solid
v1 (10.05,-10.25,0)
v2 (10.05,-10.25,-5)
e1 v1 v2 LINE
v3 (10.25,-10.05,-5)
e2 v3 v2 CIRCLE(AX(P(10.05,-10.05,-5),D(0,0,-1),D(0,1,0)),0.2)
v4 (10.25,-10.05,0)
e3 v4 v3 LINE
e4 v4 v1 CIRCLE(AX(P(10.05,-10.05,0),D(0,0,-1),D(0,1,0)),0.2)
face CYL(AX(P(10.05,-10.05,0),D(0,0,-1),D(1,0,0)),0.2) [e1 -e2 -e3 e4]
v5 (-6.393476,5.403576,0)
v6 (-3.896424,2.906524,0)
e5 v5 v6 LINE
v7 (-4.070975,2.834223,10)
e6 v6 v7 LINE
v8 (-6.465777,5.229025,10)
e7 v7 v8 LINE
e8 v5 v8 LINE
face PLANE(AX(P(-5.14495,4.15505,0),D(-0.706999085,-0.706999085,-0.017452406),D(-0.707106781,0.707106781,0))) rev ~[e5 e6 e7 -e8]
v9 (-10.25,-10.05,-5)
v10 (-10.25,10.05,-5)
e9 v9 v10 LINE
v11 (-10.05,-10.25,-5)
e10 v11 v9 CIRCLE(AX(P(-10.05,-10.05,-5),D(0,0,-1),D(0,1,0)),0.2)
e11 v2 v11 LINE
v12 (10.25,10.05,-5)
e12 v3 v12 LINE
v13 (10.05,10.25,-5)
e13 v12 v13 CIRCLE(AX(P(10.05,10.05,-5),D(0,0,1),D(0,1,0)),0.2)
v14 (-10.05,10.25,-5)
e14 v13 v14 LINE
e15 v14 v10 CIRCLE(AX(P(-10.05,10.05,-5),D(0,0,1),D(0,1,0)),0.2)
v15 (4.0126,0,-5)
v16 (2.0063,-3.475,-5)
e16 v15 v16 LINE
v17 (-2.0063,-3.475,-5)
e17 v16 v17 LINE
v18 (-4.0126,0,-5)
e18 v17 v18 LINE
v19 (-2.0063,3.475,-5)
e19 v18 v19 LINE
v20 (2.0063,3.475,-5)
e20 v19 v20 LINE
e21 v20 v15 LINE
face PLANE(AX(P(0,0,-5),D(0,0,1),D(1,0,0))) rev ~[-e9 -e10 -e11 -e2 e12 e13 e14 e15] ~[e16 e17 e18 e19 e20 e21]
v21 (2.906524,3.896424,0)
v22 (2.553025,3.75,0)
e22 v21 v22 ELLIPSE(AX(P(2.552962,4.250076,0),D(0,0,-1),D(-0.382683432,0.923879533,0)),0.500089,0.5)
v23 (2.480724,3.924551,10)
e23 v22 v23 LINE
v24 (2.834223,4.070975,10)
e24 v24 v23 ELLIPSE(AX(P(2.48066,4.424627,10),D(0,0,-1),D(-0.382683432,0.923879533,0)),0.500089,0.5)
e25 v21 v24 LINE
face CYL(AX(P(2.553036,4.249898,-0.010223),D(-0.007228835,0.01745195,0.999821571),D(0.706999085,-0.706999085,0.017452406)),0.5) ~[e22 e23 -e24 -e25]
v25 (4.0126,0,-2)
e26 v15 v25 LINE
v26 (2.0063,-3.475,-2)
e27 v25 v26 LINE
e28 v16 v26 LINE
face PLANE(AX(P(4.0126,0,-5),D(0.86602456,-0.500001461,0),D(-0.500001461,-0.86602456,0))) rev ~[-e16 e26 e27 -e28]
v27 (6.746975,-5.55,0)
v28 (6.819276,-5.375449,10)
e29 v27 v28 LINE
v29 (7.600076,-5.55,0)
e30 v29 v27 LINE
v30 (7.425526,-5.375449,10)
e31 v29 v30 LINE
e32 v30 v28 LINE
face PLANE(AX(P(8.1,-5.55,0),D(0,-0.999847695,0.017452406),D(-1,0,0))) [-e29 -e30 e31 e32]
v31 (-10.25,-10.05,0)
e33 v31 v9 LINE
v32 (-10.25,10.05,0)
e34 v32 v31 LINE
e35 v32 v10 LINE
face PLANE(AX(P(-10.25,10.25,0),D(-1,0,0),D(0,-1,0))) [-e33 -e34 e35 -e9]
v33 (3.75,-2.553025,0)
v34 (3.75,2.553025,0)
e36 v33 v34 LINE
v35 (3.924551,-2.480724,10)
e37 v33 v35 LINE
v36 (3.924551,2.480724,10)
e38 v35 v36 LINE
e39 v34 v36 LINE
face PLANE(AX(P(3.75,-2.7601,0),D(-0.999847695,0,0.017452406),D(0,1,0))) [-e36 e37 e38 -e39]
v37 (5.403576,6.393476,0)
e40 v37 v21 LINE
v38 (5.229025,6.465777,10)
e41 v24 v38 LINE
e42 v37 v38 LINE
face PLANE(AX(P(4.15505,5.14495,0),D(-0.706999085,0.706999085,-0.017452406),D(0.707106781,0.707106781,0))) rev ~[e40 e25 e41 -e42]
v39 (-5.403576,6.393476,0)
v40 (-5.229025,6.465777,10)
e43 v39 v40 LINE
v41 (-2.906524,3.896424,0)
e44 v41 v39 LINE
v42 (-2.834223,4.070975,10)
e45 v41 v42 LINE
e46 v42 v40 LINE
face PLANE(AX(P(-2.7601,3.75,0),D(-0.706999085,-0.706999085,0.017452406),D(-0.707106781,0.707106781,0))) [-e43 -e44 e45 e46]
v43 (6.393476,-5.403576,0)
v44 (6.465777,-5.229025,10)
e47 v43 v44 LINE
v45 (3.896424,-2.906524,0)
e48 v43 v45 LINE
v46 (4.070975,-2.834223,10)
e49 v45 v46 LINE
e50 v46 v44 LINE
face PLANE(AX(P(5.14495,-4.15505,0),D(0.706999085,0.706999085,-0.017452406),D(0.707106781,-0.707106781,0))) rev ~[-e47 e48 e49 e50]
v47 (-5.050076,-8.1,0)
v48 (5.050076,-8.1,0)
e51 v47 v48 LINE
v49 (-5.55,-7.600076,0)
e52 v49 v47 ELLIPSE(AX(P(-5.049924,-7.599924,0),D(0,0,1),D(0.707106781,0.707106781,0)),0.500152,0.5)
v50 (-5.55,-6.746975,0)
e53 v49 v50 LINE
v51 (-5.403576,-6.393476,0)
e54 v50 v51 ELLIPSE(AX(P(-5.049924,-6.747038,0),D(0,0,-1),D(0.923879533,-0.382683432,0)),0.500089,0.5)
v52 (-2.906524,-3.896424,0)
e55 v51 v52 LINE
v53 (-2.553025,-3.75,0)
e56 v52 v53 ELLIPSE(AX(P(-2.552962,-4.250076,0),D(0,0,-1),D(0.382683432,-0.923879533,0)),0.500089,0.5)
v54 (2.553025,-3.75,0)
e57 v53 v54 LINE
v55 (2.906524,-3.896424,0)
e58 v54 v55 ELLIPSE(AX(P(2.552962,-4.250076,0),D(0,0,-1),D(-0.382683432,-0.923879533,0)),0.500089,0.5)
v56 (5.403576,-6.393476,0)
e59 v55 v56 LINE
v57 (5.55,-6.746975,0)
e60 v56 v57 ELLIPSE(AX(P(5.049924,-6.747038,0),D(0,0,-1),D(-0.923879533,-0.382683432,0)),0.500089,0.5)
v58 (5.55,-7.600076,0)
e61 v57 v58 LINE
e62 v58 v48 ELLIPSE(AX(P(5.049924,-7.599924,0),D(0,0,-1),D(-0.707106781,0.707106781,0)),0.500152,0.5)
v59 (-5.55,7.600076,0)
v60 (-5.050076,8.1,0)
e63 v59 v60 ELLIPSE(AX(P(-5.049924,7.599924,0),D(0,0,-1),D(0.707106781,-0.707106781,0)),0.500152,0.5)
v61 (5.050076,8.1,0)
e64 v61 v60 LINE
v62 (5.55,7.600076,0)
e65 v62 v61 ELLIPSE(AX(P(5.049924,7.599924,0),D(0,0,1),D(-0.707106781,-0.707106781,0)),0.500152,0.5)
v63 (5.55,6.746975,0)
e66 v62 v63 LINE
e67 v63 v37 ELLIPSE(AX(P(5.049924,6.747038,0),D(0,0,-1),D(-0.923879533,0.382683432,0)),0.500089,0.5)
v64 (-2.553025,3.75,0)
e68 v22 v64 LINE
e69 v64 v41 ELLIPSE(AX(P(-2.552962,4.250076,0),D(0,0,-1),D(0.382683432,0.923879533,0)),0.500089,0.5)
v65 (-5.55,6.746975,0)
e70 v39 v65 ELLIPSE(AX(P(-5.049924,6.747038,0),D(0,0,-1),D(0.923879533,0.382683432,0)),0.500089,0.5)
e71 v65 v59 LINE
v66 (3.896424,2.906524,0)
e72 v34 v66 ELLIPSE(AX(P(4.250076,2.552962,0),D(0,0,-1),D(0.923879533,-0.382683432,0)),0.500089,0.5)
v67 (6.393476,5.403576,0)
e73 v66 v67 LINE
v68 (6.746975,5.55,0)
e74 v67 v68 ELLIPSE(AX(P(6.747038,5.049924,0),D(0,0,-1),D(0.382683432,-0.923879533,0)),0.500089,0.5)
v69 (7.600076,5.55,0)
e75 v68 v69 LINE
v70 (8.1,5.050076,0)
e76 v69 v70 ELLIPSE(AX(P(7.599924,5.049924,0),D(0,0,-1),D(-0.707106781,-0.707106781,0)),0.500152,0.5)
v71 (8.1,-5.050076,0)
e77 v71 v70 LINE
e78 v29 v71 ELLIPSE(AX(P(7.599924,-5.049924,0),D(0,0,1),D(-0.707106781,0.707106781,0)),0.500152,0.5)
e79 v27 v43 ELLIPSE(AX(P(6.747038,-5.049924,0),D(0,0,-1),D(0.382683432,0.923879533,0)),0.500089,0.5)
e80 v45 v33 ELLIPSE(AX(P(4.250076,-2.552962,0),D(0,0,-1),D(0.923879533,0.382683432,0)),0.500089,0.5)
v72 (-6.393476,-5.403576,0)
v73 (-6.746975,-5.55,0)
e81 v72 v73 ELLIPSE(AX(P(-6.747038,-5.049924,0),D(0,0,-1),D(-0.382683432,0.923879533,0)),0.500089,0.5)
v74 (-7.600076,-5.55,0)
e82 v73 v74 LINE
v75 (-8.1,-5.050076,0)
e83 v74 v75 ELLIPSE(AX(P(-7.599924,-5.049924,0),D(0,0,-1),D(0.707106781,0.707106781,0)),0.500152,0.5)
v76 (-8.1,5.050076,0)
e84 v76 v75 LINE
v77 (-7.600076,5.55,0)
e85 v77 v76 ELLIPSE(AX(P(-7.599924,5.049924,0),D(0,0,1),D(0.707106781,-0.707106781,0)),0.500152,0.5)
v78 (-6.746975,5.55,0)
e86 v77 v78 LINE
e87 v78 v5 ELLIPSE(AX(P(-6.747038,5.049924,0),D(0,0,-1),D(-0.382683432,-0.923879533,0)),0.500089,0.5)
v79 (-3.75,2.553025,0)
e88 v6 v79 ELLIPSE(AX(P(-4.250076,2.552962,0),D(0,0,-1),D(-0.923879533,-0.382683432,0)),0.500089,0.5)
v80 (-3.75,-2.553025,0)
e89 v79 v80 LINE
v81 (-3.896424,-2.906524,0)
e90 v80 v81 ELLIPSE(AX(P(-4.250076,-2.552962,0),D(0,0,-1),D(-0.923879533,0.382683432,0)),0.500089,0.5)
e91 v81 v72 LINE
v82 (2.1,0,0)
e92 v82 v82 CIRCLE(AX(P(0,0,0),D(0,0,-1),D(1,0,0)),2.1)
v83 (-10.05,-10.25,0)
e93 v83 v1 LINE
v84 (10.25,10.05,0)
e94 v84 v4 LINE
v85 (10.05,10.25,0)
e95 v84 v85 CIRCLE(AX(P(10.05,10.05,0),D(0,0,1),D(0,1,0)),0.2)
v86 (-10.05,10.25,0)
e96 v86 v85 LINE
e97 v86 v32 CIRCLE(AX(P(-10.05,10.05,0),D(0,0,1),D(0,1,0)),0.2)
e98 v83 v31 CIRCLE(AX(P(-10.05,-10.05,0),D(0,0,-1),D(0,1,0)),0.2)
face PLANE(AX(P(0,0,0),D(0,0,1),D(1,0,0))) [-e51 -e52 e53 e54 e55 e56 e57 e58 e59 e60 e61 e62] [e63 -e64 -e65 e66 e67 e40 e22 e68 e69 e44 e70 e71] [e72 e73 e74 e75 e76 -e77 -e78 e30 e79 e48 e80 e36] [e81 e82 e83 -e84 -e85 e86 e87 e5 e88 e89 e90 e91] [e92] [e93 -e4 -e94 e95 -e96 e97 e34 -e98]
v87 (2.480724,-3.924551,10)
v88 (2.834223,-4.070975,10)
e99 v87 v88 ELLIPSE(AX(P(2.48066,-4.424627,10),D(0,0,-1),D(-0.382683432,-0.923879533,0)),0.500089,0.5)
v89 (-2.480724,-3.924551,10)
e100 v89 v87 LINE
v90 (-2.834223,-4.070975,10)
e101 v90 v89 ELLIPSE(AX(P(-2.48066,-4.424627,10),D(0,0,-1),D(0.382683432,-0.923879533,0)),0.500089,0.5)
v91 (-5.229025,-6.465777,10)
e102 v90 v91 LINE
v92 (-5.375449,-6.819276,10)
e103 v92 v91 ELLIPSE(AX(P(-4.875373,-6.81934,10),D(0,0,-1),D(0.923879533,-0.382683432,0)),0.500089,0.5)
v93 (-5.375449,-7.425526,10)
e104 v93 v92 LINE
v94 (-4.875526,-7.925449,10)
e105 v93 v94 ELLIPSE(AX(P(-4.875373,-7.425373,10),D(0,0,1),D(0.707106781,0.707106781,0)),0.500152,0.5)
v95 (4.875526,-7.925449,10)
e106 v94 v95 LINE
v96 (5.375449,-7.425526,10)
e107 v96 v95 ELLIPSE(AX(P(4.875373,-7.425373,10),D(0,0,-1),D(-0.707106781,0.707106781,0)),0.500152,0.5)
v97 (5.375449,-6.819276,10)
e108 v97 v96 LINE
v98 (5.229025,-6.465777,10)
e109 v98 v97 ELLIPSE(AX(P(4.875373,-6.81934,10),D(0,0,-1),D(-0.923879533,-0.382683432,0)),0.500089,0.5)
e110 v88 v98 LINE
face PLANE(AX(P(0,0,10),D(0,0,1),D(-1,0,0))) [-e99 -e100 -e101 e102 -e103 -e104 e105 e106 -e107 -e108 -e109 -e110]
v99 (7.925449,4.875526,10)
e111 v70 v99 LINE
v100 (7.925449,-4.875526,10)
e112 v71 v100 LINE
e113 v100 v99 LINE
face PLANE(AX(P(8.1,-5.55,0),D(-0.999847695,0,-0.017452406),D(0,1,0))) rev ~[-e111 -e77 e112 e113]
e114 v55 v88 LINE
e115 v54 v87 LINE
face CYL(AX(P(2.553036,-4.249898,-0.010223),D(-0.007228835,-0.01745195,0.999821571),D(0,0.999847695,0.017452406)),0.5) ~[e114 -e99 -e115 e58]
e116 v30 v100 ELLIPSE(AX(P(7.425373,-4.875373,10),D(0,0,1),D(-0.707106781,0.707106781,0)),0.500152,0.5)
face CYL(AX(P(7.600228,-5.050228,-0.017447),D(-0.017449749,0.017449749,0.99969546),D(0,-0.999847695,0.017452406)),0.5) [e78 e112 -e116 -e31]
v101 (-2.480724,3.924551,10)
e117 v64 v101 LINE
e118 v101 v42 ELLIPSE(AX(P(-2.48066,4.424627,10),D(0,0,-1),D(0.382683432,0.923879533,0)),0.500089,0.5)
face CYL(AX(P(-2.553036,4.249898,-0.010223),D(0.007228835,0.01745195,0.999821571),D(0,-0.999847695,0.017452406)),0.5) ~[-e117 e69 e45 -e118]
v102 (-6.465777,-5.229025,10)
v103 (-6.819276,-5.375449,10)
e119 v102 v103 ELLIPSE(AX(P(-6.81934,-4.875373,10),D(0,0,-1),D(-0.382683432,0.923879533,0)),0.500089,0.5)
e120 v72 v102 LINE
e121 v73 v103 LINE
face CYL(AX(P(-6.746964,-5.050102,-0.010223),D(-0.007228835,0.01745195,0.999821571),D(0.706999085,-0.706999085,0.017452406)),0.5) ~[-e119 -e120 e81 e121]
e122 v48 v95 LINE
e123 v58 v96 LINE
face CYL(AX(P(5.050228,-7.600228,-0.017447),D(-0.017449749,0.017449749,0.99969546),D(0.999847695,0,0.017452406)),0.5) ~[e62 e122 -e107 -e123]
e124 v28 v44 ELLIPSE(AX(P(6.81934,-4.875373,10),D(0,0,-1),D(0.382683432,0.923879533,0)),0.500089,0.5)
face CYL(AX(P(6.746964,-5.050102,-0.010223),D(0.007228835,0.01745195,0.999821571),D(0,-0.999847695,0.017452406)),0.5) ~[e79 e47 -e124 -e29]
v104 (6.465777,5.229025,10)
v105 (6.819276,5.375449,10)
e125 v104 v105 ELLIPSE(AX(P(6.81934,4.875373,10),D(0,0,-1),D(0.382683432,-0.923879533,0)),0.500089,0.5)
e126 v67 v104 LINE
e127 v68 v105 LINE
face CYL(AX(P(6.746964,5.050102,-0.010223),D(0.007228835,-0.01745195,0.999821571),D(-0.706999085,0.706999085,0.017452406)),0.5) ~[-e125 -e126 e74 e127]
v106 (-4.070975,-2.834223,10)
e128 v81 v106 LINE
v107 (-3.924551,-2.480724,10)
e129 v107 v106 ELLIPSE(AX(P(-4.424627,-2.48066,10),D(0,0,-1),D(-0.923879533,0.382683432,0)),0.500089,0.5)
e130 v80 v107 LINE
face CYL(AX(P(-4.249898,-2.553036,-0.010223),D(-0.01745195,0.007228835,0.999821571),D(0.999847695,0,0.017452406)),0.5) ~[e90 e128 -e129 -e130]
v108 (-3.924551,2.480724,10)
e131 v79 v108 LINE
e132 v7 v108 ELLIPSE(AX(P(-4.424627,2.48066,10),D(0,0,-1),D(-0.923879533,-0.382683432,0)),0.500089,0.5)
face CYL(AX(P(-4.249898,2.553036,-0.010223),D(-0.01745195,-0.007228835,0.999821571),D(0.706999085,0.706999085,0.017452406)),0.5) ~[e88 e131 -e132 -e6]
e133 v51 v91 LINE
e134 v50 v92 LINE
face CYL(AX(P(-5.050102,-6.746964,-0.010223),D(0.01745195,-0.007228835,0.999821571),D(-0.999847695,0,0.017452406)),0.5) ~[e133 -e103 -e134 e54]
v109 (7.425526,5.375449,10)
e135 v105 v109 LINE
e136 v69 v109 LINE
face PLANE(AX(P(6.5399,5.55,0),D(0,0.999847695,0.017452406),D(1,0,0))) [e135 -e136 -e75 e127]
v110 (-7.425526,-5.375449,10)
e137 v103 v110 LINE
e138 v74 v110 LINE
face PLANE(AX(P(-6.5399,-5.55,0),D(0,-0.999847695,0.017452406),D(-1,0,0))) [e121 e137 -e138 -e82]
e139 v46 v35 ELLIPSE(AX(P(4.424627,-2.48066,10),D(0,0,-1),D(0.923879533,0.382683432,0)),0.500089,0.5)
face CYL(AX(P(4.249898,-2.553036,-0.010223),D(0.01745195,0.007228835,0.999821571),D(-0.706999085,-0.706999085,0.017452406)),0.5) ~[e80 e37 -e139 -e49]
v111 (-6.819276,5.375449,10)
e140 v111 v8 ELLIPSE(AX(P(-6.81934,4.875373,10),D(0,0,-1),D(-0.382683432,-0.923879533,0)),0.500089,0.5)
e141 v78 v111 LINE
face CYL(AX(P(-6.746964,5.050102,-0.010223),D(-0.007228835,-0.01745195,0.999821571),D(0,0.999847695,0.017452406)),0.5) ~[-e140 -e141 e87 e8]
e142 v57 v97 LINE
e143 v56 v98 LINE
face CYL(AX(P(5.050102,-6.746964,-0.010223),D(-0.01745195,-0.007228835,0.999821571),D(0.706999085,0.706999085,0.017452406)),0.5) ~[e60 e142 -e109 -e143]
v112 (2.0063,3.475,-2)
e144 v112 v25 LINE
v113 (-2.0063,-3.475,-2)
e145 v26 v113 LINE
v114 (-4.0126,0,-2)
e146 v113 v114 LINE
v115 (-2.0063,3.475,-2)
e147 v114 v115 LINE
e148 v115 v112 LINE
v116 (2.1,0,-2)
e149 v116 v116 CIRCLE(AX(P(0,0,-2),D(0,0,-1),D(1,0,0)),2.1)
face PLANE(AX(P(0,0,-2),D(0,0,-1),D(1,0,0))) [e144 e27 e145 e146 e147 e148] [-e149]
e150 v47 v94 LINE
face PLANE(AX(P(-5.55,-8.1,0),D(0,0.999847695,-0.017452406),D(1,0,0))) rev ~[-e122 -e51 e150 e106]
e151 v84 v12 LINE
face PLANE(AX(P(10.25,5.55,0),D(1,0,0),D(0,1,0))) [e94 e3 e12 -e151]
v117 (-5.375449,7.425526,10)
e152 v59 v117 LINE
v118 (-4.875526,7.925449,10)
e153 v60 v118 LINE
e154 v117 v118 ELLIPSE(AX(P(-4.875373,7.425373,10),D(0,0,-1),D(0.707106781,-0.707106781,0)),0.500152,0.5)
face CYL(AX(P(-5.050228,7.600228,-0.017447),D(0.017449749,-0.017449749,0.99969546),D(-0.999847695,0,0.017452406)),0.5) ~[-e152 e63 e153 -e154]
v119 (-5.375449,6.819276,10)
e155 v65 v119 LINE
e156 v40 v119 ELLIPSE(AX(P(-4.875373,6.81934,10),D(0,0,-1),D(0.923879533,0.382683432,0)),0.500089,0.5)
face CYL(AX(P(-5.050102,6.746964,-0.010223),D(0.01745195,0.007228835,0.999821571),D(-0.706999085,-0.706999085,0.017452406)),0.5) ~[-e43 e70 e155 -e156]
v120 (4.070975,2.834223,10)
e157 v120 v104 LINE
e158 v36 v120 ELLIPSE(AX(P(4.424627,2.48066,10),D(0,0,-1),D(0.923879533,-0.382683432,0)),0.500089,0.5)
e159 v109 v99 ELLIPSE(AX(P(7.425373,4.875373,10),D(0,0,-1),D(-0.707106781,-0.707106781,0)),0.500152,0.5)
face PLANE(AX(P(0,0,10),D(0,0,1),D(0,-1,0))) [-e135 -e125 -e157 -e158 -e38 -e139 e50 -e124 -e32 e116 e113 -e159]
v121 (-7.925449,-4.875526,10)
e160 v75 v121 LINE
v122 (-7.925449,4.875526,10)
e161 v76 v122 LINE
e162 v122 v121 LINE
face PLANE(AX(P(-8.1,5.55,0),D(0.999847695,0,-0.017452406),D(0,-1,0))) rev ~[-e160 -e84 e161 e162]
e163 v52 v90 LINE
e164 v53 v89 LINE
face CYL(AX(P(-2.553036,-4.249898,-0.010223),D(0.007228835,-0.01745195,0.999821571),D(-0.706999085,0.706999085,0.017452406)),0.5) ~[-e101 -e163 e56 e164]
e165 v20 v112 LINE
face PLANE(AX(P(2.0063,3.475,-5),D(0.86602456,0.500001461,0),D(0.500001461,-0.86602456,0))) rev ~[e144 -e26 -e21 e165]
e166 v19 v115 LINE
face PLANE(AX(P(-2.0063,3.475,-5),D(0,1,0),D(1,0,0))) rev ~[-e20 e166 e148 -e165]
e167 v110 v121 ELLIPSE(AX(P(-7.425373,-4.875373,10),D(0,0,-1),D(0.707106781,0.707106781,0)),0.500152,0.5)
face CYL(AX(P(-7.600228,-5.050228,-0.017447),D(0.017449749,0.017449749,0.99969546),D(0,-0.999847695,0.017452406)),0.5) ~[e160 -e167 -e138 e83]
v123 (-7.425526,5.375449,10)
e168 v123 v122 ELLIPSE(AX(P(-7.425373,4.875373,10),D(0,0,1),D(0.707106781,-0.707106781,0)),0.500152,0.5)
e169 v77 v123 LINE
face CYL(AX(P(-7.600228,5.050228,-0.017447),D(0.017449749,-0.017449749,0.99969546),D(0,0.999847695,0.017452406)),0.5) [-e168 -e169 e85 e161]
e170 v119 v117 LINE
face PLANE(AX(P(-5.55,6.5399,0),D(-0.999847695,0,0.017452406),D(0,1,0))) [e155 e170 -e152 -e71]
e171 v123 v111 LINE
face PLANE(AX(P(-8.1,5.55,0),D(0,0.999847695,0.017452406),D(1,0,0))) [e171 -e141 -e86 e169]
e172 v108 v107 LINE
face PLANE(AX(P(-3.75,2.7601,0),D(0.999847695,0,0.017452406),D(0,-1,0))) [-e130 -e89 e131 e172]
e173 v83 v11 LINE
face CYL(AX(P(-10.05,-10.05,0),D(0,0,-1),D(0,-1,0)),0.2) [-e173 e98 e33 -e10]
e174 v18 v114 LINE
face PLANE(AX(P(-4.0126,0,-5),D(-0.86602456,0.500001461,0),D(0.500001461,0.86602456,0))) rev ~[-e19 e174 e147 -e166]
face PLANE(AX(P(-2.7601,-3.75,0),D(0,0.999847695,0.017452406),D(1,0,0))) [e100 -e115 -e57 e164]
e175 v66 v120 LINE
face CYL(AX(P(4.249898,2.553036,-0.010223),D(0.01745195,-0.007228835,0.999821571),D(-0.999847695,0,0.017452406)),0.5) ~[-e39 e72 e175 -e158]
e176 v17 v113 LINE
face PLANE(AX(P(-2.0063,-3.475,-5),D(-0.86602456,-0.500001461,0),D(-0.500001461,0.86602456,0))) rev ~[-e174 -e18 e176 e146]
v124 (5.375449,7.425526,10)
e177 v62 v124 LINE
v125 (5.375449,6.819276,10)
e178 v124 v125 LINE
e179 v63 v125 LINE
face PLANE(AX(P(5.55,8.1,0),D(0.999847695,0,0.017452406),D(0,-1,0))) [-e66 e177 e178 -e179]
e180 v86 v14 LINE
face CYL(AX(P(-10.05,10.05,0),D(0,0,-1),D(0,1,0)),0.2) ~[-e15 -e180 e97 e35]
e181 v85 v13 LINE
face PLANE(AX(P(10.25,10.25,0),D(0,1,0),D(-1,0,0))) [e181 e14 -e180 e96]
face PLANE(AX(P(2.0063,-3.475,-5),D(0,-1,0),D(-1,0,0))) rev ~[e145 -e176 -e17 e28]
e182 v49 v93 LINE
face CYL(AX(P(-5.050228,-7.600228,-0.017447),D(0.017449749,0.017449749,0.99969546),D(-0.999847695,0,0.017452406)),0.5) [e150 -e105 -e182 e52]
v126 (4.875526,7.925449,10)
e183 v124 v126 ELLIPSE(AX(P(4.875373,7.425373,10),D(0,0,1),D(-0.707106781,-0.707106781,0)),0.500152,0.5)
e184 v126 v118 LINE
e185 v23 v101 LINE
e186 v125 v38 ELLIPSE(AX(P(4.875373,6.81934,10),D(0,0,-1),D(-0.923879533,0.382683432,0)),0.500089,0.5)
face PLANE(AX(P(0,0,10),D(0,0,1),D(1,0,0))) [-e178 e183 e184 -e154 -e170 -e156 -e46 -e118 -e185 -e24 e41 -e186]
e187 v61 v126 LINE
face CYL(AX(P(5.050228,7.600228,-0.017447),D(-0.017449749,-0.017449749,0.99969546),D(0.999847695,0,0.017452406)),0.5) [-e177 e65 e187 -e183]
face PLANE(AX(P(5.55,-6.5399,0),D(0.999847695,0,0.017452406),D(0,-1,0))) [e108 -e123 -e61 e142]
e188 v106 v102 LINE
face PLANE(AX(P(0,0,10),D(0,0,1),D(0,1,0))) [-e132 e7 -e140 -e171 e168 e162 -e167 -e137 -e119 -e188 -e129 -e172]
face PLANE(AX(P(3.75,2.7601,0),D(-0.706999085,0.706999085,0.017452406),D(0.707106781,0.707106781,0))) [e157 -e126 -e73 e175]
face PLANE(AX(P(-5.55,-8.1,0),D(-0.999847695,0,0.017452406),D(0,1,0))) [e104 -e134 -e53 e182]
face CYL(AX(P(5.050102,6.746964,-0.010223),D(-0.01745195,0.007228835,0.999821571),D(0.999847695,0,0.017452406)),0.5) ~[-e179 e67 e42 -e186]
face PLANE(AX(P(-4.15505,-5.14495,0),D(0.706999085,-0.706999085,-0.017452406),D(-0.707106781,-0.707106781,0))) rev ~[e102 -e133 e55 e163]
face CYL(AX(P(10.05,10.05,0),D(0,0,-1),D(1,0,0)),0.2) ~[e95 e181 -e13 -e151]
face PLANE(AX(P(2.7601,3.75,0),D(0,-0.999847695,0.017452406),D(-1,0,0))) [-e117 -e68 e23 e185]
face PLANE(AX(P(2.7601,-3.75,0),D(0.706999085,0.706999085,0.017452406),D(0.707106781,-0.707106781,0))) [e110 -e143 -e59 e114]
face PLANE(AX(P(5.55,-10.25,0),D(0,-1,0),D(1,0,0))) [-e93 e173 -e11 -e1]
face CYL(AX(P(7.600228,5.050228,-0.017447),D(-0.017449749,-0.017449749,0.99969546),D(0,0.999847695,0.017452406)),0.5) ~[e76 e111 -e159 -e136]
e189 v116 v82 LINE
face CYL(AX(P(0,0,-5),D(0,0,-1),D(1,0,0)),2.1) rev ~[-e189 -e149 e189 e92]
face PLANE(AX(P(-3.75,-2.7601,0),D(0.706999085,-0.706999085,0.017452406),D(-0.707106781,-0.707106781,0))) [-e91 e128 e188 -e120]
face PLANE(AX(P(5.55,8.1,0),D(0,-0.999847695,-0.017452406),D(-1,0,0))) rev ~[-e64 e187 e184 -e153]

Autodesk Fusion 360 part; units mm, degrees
ref_plane "WorkPlane1" through (0, 0, 0) normal (0, 0, 1) x (1, 0, 0)
sketch "Sketch1" plane through (0, 0, 0) normal (0, 0, 1) x (1, 0, 0)
  line L0 (10.25, 10.25) -> (-10.25, 10.25)
  line L1 (-10.25, 10.25) -> (-10.25, -10.25)
  line L2 (-10.25, -10.25) -> (10.25, -10.25)
  line L3 (10.25, -10.25) -> (10.25, 10.25)
  line L4 (10.25, 10.25) -> (-10.25, -10.25) construction
  line L5 (-10.25, 10.25) -> (10.25, -10.25) construction
  line L6 (3.75, 3.75) -> (-3.75, 3.75)
  line L7 (-3.75, 3.75) -> (-3.75, -3.75)
  line L8 (-3.75, -3.75) -> (3.75, -3.75)
  line L9 (3.75, -3.75) -> (3.75, 3.75)
  line L10 (3.75, 3.75) -> (-3.75, -3.75) construction
  line L11 (-3.75, 3.75) -> (3.75, -3.75) construction
  line L12 (8.1, 8.1) -> (-8.1, 8.1)
  line L13 (-8.1, 8.1) -> (-8.1, -8.1)
  line L14 (-8.1, -8.1) -> (8.1, -8.1)
  line L15 (8.1, -8.1) -> (8.1, 8.1)
  line L16 (8.1, 8.1) -> (-8.1, -8.1) construction
  line L17 (-8.1, 8.1) -> (8.1, -8.1) construction
  line L18 (10.25, 10.25) -> (5.55, 10.25)
  line L19 (5.55, 10.25) -> (5.55, 5.55)
  line L20 (5.55, 5.55) -> (10.25, 5.55)
  line L21 (10.25, 5.55) -> (10.25, 10.25)
  line L22 (2.7601, 3.75) -> (5.55, 6.5399)
  line L23 (3.75, 2.7601) -> (6.5399, 5.55)
  line L24 (4.155, 5.145) -> (5.145, 4.155)
  line L25 (-5.55, 5.55) -> (-5.55, 10.25)
  line L26 (-10.25, 5.55) -> (-5.55, 5.55)
  line L27 (-3.75, 2.7601) -> (-6.5399, 5.55)
  line L28 (-2.7601, 3.75) -> (-5.55, 6.5399)
  line L29 (-5.55, -5.55) -> (-10.25, -5.55)
  line L30 (-5.55, -10.25) -> (-5.55, -5.55)
  line L31 (-2.7601, -3.75) -> (-5.55, -6.5399)
  line L32 (-3.75, -2.7601) -> (-6.5399, -5.55)
  line L33 (5.55, -5.55) -> (5.55, -10.25)
  line L34 (10.25, -5.55) -> (5.55, -5.55)
  line L35 (3.75, -2.7601) -> (6.5399, -5.55)
  line L36 (2.7601, -3.75) -> (5.55, -6.5399)
  point P0 (4.65, 4.65)
  dimension "d2" = 20.5
  dimension "d3" = 20.5
  dimension "d4" = 7.5
  dimension "d5" = 7.5
  dimension "d6" = 16.2
  dimension "d7" = 16.2
  dimension "d8" = 4.7
  dimension "d9" = 4.7
  dimension "d10" = 1.4
  dimension "d12" = 360
extrude "Extrude1" add sketch "Sketch1" against normal blind 5 makes body 1
extrude "Extrude2" add sketch "Sketch1" along normal blind 10 draft -1 separate body contours L6 L12 L19 L22 L25 L28 makes body 2
sketch "Sketch2" plane through (0, 0, -5) normal (0, 0, -1) x (1, 0, 0)
  line L0 (10.25, -10.25) -> (10.25, 10.25)
  line L1 (10.25, 10.25) -> (-10.25, 10.25)
  line L2 (-10.25, 10.25) -> (-10.25, -10.25)
  line L3 (-10.25, -10.25) -> (10.25, -10.25)
  circle A0 centre (0, 0) radius 2.1
  line L4 (2.0063, 3.475) -> (-2.0063, 3.475)
  line L5 (-2.0063, 3.475) -> (-4.0126, 0)
  line L6 (-4.0126, 0) -> (-2.0063, -3.475)
  line L7 (-2.0063, -3.475) -> (2.0063, -3.475)
  line L8 (2.0063, -3.475) -> (4.0126, 0)
  line L9 (4.0126, 0) -> (2.0063, 3.475)
  dimension "d17" = 4.2
  dimension "d18" = 3.475
extrude "Extrude3" cut sketch "Sketch2" against normal up to surface (5 mm away) contours A0 bodies 2 1
extrude "Extrude4" cut sketch "Sketch2" against normal blind 3 contours L4 L5 L6 L7 L8 L9 bodies 1 2
fillet "Fillet1" radius 0.5 6 edges at (2.7239, 3.8373, 5) (-2.7239, 3.8373, 5) (-5.4627, 6.5761, 5) (5.4627, 6.5761, 5) (5.4627, 8.0127, 5) (-5.4627, 8.0127, 5) on bodies 2
pattern_circular "C-Pattern1" count 4 over 360 about axis through (0, 0, 1.75) along (0, 0, 1) of bodies 2 makes body 3 at (-8.0418, 1.6252, 3.3333) makes body 4 at (-1.6252, -8.0418, 3.3333) makes body 5 at (8.0418, -1.6252, 3.3333)
combine "Combine1" operation add target body 5 tool bodies 4 3 2 1
fillet "Fillet2" radius 0.2 4 edges at (10.25, -10.25, -2.5) (10.25, 10.25, -2.5) (-10.25, 10.25, -2.5) (-10.25, -10.25, -2.5) on bodies 5
equation "d18 = ( 6.95 / 2 ) * 1 mm"
